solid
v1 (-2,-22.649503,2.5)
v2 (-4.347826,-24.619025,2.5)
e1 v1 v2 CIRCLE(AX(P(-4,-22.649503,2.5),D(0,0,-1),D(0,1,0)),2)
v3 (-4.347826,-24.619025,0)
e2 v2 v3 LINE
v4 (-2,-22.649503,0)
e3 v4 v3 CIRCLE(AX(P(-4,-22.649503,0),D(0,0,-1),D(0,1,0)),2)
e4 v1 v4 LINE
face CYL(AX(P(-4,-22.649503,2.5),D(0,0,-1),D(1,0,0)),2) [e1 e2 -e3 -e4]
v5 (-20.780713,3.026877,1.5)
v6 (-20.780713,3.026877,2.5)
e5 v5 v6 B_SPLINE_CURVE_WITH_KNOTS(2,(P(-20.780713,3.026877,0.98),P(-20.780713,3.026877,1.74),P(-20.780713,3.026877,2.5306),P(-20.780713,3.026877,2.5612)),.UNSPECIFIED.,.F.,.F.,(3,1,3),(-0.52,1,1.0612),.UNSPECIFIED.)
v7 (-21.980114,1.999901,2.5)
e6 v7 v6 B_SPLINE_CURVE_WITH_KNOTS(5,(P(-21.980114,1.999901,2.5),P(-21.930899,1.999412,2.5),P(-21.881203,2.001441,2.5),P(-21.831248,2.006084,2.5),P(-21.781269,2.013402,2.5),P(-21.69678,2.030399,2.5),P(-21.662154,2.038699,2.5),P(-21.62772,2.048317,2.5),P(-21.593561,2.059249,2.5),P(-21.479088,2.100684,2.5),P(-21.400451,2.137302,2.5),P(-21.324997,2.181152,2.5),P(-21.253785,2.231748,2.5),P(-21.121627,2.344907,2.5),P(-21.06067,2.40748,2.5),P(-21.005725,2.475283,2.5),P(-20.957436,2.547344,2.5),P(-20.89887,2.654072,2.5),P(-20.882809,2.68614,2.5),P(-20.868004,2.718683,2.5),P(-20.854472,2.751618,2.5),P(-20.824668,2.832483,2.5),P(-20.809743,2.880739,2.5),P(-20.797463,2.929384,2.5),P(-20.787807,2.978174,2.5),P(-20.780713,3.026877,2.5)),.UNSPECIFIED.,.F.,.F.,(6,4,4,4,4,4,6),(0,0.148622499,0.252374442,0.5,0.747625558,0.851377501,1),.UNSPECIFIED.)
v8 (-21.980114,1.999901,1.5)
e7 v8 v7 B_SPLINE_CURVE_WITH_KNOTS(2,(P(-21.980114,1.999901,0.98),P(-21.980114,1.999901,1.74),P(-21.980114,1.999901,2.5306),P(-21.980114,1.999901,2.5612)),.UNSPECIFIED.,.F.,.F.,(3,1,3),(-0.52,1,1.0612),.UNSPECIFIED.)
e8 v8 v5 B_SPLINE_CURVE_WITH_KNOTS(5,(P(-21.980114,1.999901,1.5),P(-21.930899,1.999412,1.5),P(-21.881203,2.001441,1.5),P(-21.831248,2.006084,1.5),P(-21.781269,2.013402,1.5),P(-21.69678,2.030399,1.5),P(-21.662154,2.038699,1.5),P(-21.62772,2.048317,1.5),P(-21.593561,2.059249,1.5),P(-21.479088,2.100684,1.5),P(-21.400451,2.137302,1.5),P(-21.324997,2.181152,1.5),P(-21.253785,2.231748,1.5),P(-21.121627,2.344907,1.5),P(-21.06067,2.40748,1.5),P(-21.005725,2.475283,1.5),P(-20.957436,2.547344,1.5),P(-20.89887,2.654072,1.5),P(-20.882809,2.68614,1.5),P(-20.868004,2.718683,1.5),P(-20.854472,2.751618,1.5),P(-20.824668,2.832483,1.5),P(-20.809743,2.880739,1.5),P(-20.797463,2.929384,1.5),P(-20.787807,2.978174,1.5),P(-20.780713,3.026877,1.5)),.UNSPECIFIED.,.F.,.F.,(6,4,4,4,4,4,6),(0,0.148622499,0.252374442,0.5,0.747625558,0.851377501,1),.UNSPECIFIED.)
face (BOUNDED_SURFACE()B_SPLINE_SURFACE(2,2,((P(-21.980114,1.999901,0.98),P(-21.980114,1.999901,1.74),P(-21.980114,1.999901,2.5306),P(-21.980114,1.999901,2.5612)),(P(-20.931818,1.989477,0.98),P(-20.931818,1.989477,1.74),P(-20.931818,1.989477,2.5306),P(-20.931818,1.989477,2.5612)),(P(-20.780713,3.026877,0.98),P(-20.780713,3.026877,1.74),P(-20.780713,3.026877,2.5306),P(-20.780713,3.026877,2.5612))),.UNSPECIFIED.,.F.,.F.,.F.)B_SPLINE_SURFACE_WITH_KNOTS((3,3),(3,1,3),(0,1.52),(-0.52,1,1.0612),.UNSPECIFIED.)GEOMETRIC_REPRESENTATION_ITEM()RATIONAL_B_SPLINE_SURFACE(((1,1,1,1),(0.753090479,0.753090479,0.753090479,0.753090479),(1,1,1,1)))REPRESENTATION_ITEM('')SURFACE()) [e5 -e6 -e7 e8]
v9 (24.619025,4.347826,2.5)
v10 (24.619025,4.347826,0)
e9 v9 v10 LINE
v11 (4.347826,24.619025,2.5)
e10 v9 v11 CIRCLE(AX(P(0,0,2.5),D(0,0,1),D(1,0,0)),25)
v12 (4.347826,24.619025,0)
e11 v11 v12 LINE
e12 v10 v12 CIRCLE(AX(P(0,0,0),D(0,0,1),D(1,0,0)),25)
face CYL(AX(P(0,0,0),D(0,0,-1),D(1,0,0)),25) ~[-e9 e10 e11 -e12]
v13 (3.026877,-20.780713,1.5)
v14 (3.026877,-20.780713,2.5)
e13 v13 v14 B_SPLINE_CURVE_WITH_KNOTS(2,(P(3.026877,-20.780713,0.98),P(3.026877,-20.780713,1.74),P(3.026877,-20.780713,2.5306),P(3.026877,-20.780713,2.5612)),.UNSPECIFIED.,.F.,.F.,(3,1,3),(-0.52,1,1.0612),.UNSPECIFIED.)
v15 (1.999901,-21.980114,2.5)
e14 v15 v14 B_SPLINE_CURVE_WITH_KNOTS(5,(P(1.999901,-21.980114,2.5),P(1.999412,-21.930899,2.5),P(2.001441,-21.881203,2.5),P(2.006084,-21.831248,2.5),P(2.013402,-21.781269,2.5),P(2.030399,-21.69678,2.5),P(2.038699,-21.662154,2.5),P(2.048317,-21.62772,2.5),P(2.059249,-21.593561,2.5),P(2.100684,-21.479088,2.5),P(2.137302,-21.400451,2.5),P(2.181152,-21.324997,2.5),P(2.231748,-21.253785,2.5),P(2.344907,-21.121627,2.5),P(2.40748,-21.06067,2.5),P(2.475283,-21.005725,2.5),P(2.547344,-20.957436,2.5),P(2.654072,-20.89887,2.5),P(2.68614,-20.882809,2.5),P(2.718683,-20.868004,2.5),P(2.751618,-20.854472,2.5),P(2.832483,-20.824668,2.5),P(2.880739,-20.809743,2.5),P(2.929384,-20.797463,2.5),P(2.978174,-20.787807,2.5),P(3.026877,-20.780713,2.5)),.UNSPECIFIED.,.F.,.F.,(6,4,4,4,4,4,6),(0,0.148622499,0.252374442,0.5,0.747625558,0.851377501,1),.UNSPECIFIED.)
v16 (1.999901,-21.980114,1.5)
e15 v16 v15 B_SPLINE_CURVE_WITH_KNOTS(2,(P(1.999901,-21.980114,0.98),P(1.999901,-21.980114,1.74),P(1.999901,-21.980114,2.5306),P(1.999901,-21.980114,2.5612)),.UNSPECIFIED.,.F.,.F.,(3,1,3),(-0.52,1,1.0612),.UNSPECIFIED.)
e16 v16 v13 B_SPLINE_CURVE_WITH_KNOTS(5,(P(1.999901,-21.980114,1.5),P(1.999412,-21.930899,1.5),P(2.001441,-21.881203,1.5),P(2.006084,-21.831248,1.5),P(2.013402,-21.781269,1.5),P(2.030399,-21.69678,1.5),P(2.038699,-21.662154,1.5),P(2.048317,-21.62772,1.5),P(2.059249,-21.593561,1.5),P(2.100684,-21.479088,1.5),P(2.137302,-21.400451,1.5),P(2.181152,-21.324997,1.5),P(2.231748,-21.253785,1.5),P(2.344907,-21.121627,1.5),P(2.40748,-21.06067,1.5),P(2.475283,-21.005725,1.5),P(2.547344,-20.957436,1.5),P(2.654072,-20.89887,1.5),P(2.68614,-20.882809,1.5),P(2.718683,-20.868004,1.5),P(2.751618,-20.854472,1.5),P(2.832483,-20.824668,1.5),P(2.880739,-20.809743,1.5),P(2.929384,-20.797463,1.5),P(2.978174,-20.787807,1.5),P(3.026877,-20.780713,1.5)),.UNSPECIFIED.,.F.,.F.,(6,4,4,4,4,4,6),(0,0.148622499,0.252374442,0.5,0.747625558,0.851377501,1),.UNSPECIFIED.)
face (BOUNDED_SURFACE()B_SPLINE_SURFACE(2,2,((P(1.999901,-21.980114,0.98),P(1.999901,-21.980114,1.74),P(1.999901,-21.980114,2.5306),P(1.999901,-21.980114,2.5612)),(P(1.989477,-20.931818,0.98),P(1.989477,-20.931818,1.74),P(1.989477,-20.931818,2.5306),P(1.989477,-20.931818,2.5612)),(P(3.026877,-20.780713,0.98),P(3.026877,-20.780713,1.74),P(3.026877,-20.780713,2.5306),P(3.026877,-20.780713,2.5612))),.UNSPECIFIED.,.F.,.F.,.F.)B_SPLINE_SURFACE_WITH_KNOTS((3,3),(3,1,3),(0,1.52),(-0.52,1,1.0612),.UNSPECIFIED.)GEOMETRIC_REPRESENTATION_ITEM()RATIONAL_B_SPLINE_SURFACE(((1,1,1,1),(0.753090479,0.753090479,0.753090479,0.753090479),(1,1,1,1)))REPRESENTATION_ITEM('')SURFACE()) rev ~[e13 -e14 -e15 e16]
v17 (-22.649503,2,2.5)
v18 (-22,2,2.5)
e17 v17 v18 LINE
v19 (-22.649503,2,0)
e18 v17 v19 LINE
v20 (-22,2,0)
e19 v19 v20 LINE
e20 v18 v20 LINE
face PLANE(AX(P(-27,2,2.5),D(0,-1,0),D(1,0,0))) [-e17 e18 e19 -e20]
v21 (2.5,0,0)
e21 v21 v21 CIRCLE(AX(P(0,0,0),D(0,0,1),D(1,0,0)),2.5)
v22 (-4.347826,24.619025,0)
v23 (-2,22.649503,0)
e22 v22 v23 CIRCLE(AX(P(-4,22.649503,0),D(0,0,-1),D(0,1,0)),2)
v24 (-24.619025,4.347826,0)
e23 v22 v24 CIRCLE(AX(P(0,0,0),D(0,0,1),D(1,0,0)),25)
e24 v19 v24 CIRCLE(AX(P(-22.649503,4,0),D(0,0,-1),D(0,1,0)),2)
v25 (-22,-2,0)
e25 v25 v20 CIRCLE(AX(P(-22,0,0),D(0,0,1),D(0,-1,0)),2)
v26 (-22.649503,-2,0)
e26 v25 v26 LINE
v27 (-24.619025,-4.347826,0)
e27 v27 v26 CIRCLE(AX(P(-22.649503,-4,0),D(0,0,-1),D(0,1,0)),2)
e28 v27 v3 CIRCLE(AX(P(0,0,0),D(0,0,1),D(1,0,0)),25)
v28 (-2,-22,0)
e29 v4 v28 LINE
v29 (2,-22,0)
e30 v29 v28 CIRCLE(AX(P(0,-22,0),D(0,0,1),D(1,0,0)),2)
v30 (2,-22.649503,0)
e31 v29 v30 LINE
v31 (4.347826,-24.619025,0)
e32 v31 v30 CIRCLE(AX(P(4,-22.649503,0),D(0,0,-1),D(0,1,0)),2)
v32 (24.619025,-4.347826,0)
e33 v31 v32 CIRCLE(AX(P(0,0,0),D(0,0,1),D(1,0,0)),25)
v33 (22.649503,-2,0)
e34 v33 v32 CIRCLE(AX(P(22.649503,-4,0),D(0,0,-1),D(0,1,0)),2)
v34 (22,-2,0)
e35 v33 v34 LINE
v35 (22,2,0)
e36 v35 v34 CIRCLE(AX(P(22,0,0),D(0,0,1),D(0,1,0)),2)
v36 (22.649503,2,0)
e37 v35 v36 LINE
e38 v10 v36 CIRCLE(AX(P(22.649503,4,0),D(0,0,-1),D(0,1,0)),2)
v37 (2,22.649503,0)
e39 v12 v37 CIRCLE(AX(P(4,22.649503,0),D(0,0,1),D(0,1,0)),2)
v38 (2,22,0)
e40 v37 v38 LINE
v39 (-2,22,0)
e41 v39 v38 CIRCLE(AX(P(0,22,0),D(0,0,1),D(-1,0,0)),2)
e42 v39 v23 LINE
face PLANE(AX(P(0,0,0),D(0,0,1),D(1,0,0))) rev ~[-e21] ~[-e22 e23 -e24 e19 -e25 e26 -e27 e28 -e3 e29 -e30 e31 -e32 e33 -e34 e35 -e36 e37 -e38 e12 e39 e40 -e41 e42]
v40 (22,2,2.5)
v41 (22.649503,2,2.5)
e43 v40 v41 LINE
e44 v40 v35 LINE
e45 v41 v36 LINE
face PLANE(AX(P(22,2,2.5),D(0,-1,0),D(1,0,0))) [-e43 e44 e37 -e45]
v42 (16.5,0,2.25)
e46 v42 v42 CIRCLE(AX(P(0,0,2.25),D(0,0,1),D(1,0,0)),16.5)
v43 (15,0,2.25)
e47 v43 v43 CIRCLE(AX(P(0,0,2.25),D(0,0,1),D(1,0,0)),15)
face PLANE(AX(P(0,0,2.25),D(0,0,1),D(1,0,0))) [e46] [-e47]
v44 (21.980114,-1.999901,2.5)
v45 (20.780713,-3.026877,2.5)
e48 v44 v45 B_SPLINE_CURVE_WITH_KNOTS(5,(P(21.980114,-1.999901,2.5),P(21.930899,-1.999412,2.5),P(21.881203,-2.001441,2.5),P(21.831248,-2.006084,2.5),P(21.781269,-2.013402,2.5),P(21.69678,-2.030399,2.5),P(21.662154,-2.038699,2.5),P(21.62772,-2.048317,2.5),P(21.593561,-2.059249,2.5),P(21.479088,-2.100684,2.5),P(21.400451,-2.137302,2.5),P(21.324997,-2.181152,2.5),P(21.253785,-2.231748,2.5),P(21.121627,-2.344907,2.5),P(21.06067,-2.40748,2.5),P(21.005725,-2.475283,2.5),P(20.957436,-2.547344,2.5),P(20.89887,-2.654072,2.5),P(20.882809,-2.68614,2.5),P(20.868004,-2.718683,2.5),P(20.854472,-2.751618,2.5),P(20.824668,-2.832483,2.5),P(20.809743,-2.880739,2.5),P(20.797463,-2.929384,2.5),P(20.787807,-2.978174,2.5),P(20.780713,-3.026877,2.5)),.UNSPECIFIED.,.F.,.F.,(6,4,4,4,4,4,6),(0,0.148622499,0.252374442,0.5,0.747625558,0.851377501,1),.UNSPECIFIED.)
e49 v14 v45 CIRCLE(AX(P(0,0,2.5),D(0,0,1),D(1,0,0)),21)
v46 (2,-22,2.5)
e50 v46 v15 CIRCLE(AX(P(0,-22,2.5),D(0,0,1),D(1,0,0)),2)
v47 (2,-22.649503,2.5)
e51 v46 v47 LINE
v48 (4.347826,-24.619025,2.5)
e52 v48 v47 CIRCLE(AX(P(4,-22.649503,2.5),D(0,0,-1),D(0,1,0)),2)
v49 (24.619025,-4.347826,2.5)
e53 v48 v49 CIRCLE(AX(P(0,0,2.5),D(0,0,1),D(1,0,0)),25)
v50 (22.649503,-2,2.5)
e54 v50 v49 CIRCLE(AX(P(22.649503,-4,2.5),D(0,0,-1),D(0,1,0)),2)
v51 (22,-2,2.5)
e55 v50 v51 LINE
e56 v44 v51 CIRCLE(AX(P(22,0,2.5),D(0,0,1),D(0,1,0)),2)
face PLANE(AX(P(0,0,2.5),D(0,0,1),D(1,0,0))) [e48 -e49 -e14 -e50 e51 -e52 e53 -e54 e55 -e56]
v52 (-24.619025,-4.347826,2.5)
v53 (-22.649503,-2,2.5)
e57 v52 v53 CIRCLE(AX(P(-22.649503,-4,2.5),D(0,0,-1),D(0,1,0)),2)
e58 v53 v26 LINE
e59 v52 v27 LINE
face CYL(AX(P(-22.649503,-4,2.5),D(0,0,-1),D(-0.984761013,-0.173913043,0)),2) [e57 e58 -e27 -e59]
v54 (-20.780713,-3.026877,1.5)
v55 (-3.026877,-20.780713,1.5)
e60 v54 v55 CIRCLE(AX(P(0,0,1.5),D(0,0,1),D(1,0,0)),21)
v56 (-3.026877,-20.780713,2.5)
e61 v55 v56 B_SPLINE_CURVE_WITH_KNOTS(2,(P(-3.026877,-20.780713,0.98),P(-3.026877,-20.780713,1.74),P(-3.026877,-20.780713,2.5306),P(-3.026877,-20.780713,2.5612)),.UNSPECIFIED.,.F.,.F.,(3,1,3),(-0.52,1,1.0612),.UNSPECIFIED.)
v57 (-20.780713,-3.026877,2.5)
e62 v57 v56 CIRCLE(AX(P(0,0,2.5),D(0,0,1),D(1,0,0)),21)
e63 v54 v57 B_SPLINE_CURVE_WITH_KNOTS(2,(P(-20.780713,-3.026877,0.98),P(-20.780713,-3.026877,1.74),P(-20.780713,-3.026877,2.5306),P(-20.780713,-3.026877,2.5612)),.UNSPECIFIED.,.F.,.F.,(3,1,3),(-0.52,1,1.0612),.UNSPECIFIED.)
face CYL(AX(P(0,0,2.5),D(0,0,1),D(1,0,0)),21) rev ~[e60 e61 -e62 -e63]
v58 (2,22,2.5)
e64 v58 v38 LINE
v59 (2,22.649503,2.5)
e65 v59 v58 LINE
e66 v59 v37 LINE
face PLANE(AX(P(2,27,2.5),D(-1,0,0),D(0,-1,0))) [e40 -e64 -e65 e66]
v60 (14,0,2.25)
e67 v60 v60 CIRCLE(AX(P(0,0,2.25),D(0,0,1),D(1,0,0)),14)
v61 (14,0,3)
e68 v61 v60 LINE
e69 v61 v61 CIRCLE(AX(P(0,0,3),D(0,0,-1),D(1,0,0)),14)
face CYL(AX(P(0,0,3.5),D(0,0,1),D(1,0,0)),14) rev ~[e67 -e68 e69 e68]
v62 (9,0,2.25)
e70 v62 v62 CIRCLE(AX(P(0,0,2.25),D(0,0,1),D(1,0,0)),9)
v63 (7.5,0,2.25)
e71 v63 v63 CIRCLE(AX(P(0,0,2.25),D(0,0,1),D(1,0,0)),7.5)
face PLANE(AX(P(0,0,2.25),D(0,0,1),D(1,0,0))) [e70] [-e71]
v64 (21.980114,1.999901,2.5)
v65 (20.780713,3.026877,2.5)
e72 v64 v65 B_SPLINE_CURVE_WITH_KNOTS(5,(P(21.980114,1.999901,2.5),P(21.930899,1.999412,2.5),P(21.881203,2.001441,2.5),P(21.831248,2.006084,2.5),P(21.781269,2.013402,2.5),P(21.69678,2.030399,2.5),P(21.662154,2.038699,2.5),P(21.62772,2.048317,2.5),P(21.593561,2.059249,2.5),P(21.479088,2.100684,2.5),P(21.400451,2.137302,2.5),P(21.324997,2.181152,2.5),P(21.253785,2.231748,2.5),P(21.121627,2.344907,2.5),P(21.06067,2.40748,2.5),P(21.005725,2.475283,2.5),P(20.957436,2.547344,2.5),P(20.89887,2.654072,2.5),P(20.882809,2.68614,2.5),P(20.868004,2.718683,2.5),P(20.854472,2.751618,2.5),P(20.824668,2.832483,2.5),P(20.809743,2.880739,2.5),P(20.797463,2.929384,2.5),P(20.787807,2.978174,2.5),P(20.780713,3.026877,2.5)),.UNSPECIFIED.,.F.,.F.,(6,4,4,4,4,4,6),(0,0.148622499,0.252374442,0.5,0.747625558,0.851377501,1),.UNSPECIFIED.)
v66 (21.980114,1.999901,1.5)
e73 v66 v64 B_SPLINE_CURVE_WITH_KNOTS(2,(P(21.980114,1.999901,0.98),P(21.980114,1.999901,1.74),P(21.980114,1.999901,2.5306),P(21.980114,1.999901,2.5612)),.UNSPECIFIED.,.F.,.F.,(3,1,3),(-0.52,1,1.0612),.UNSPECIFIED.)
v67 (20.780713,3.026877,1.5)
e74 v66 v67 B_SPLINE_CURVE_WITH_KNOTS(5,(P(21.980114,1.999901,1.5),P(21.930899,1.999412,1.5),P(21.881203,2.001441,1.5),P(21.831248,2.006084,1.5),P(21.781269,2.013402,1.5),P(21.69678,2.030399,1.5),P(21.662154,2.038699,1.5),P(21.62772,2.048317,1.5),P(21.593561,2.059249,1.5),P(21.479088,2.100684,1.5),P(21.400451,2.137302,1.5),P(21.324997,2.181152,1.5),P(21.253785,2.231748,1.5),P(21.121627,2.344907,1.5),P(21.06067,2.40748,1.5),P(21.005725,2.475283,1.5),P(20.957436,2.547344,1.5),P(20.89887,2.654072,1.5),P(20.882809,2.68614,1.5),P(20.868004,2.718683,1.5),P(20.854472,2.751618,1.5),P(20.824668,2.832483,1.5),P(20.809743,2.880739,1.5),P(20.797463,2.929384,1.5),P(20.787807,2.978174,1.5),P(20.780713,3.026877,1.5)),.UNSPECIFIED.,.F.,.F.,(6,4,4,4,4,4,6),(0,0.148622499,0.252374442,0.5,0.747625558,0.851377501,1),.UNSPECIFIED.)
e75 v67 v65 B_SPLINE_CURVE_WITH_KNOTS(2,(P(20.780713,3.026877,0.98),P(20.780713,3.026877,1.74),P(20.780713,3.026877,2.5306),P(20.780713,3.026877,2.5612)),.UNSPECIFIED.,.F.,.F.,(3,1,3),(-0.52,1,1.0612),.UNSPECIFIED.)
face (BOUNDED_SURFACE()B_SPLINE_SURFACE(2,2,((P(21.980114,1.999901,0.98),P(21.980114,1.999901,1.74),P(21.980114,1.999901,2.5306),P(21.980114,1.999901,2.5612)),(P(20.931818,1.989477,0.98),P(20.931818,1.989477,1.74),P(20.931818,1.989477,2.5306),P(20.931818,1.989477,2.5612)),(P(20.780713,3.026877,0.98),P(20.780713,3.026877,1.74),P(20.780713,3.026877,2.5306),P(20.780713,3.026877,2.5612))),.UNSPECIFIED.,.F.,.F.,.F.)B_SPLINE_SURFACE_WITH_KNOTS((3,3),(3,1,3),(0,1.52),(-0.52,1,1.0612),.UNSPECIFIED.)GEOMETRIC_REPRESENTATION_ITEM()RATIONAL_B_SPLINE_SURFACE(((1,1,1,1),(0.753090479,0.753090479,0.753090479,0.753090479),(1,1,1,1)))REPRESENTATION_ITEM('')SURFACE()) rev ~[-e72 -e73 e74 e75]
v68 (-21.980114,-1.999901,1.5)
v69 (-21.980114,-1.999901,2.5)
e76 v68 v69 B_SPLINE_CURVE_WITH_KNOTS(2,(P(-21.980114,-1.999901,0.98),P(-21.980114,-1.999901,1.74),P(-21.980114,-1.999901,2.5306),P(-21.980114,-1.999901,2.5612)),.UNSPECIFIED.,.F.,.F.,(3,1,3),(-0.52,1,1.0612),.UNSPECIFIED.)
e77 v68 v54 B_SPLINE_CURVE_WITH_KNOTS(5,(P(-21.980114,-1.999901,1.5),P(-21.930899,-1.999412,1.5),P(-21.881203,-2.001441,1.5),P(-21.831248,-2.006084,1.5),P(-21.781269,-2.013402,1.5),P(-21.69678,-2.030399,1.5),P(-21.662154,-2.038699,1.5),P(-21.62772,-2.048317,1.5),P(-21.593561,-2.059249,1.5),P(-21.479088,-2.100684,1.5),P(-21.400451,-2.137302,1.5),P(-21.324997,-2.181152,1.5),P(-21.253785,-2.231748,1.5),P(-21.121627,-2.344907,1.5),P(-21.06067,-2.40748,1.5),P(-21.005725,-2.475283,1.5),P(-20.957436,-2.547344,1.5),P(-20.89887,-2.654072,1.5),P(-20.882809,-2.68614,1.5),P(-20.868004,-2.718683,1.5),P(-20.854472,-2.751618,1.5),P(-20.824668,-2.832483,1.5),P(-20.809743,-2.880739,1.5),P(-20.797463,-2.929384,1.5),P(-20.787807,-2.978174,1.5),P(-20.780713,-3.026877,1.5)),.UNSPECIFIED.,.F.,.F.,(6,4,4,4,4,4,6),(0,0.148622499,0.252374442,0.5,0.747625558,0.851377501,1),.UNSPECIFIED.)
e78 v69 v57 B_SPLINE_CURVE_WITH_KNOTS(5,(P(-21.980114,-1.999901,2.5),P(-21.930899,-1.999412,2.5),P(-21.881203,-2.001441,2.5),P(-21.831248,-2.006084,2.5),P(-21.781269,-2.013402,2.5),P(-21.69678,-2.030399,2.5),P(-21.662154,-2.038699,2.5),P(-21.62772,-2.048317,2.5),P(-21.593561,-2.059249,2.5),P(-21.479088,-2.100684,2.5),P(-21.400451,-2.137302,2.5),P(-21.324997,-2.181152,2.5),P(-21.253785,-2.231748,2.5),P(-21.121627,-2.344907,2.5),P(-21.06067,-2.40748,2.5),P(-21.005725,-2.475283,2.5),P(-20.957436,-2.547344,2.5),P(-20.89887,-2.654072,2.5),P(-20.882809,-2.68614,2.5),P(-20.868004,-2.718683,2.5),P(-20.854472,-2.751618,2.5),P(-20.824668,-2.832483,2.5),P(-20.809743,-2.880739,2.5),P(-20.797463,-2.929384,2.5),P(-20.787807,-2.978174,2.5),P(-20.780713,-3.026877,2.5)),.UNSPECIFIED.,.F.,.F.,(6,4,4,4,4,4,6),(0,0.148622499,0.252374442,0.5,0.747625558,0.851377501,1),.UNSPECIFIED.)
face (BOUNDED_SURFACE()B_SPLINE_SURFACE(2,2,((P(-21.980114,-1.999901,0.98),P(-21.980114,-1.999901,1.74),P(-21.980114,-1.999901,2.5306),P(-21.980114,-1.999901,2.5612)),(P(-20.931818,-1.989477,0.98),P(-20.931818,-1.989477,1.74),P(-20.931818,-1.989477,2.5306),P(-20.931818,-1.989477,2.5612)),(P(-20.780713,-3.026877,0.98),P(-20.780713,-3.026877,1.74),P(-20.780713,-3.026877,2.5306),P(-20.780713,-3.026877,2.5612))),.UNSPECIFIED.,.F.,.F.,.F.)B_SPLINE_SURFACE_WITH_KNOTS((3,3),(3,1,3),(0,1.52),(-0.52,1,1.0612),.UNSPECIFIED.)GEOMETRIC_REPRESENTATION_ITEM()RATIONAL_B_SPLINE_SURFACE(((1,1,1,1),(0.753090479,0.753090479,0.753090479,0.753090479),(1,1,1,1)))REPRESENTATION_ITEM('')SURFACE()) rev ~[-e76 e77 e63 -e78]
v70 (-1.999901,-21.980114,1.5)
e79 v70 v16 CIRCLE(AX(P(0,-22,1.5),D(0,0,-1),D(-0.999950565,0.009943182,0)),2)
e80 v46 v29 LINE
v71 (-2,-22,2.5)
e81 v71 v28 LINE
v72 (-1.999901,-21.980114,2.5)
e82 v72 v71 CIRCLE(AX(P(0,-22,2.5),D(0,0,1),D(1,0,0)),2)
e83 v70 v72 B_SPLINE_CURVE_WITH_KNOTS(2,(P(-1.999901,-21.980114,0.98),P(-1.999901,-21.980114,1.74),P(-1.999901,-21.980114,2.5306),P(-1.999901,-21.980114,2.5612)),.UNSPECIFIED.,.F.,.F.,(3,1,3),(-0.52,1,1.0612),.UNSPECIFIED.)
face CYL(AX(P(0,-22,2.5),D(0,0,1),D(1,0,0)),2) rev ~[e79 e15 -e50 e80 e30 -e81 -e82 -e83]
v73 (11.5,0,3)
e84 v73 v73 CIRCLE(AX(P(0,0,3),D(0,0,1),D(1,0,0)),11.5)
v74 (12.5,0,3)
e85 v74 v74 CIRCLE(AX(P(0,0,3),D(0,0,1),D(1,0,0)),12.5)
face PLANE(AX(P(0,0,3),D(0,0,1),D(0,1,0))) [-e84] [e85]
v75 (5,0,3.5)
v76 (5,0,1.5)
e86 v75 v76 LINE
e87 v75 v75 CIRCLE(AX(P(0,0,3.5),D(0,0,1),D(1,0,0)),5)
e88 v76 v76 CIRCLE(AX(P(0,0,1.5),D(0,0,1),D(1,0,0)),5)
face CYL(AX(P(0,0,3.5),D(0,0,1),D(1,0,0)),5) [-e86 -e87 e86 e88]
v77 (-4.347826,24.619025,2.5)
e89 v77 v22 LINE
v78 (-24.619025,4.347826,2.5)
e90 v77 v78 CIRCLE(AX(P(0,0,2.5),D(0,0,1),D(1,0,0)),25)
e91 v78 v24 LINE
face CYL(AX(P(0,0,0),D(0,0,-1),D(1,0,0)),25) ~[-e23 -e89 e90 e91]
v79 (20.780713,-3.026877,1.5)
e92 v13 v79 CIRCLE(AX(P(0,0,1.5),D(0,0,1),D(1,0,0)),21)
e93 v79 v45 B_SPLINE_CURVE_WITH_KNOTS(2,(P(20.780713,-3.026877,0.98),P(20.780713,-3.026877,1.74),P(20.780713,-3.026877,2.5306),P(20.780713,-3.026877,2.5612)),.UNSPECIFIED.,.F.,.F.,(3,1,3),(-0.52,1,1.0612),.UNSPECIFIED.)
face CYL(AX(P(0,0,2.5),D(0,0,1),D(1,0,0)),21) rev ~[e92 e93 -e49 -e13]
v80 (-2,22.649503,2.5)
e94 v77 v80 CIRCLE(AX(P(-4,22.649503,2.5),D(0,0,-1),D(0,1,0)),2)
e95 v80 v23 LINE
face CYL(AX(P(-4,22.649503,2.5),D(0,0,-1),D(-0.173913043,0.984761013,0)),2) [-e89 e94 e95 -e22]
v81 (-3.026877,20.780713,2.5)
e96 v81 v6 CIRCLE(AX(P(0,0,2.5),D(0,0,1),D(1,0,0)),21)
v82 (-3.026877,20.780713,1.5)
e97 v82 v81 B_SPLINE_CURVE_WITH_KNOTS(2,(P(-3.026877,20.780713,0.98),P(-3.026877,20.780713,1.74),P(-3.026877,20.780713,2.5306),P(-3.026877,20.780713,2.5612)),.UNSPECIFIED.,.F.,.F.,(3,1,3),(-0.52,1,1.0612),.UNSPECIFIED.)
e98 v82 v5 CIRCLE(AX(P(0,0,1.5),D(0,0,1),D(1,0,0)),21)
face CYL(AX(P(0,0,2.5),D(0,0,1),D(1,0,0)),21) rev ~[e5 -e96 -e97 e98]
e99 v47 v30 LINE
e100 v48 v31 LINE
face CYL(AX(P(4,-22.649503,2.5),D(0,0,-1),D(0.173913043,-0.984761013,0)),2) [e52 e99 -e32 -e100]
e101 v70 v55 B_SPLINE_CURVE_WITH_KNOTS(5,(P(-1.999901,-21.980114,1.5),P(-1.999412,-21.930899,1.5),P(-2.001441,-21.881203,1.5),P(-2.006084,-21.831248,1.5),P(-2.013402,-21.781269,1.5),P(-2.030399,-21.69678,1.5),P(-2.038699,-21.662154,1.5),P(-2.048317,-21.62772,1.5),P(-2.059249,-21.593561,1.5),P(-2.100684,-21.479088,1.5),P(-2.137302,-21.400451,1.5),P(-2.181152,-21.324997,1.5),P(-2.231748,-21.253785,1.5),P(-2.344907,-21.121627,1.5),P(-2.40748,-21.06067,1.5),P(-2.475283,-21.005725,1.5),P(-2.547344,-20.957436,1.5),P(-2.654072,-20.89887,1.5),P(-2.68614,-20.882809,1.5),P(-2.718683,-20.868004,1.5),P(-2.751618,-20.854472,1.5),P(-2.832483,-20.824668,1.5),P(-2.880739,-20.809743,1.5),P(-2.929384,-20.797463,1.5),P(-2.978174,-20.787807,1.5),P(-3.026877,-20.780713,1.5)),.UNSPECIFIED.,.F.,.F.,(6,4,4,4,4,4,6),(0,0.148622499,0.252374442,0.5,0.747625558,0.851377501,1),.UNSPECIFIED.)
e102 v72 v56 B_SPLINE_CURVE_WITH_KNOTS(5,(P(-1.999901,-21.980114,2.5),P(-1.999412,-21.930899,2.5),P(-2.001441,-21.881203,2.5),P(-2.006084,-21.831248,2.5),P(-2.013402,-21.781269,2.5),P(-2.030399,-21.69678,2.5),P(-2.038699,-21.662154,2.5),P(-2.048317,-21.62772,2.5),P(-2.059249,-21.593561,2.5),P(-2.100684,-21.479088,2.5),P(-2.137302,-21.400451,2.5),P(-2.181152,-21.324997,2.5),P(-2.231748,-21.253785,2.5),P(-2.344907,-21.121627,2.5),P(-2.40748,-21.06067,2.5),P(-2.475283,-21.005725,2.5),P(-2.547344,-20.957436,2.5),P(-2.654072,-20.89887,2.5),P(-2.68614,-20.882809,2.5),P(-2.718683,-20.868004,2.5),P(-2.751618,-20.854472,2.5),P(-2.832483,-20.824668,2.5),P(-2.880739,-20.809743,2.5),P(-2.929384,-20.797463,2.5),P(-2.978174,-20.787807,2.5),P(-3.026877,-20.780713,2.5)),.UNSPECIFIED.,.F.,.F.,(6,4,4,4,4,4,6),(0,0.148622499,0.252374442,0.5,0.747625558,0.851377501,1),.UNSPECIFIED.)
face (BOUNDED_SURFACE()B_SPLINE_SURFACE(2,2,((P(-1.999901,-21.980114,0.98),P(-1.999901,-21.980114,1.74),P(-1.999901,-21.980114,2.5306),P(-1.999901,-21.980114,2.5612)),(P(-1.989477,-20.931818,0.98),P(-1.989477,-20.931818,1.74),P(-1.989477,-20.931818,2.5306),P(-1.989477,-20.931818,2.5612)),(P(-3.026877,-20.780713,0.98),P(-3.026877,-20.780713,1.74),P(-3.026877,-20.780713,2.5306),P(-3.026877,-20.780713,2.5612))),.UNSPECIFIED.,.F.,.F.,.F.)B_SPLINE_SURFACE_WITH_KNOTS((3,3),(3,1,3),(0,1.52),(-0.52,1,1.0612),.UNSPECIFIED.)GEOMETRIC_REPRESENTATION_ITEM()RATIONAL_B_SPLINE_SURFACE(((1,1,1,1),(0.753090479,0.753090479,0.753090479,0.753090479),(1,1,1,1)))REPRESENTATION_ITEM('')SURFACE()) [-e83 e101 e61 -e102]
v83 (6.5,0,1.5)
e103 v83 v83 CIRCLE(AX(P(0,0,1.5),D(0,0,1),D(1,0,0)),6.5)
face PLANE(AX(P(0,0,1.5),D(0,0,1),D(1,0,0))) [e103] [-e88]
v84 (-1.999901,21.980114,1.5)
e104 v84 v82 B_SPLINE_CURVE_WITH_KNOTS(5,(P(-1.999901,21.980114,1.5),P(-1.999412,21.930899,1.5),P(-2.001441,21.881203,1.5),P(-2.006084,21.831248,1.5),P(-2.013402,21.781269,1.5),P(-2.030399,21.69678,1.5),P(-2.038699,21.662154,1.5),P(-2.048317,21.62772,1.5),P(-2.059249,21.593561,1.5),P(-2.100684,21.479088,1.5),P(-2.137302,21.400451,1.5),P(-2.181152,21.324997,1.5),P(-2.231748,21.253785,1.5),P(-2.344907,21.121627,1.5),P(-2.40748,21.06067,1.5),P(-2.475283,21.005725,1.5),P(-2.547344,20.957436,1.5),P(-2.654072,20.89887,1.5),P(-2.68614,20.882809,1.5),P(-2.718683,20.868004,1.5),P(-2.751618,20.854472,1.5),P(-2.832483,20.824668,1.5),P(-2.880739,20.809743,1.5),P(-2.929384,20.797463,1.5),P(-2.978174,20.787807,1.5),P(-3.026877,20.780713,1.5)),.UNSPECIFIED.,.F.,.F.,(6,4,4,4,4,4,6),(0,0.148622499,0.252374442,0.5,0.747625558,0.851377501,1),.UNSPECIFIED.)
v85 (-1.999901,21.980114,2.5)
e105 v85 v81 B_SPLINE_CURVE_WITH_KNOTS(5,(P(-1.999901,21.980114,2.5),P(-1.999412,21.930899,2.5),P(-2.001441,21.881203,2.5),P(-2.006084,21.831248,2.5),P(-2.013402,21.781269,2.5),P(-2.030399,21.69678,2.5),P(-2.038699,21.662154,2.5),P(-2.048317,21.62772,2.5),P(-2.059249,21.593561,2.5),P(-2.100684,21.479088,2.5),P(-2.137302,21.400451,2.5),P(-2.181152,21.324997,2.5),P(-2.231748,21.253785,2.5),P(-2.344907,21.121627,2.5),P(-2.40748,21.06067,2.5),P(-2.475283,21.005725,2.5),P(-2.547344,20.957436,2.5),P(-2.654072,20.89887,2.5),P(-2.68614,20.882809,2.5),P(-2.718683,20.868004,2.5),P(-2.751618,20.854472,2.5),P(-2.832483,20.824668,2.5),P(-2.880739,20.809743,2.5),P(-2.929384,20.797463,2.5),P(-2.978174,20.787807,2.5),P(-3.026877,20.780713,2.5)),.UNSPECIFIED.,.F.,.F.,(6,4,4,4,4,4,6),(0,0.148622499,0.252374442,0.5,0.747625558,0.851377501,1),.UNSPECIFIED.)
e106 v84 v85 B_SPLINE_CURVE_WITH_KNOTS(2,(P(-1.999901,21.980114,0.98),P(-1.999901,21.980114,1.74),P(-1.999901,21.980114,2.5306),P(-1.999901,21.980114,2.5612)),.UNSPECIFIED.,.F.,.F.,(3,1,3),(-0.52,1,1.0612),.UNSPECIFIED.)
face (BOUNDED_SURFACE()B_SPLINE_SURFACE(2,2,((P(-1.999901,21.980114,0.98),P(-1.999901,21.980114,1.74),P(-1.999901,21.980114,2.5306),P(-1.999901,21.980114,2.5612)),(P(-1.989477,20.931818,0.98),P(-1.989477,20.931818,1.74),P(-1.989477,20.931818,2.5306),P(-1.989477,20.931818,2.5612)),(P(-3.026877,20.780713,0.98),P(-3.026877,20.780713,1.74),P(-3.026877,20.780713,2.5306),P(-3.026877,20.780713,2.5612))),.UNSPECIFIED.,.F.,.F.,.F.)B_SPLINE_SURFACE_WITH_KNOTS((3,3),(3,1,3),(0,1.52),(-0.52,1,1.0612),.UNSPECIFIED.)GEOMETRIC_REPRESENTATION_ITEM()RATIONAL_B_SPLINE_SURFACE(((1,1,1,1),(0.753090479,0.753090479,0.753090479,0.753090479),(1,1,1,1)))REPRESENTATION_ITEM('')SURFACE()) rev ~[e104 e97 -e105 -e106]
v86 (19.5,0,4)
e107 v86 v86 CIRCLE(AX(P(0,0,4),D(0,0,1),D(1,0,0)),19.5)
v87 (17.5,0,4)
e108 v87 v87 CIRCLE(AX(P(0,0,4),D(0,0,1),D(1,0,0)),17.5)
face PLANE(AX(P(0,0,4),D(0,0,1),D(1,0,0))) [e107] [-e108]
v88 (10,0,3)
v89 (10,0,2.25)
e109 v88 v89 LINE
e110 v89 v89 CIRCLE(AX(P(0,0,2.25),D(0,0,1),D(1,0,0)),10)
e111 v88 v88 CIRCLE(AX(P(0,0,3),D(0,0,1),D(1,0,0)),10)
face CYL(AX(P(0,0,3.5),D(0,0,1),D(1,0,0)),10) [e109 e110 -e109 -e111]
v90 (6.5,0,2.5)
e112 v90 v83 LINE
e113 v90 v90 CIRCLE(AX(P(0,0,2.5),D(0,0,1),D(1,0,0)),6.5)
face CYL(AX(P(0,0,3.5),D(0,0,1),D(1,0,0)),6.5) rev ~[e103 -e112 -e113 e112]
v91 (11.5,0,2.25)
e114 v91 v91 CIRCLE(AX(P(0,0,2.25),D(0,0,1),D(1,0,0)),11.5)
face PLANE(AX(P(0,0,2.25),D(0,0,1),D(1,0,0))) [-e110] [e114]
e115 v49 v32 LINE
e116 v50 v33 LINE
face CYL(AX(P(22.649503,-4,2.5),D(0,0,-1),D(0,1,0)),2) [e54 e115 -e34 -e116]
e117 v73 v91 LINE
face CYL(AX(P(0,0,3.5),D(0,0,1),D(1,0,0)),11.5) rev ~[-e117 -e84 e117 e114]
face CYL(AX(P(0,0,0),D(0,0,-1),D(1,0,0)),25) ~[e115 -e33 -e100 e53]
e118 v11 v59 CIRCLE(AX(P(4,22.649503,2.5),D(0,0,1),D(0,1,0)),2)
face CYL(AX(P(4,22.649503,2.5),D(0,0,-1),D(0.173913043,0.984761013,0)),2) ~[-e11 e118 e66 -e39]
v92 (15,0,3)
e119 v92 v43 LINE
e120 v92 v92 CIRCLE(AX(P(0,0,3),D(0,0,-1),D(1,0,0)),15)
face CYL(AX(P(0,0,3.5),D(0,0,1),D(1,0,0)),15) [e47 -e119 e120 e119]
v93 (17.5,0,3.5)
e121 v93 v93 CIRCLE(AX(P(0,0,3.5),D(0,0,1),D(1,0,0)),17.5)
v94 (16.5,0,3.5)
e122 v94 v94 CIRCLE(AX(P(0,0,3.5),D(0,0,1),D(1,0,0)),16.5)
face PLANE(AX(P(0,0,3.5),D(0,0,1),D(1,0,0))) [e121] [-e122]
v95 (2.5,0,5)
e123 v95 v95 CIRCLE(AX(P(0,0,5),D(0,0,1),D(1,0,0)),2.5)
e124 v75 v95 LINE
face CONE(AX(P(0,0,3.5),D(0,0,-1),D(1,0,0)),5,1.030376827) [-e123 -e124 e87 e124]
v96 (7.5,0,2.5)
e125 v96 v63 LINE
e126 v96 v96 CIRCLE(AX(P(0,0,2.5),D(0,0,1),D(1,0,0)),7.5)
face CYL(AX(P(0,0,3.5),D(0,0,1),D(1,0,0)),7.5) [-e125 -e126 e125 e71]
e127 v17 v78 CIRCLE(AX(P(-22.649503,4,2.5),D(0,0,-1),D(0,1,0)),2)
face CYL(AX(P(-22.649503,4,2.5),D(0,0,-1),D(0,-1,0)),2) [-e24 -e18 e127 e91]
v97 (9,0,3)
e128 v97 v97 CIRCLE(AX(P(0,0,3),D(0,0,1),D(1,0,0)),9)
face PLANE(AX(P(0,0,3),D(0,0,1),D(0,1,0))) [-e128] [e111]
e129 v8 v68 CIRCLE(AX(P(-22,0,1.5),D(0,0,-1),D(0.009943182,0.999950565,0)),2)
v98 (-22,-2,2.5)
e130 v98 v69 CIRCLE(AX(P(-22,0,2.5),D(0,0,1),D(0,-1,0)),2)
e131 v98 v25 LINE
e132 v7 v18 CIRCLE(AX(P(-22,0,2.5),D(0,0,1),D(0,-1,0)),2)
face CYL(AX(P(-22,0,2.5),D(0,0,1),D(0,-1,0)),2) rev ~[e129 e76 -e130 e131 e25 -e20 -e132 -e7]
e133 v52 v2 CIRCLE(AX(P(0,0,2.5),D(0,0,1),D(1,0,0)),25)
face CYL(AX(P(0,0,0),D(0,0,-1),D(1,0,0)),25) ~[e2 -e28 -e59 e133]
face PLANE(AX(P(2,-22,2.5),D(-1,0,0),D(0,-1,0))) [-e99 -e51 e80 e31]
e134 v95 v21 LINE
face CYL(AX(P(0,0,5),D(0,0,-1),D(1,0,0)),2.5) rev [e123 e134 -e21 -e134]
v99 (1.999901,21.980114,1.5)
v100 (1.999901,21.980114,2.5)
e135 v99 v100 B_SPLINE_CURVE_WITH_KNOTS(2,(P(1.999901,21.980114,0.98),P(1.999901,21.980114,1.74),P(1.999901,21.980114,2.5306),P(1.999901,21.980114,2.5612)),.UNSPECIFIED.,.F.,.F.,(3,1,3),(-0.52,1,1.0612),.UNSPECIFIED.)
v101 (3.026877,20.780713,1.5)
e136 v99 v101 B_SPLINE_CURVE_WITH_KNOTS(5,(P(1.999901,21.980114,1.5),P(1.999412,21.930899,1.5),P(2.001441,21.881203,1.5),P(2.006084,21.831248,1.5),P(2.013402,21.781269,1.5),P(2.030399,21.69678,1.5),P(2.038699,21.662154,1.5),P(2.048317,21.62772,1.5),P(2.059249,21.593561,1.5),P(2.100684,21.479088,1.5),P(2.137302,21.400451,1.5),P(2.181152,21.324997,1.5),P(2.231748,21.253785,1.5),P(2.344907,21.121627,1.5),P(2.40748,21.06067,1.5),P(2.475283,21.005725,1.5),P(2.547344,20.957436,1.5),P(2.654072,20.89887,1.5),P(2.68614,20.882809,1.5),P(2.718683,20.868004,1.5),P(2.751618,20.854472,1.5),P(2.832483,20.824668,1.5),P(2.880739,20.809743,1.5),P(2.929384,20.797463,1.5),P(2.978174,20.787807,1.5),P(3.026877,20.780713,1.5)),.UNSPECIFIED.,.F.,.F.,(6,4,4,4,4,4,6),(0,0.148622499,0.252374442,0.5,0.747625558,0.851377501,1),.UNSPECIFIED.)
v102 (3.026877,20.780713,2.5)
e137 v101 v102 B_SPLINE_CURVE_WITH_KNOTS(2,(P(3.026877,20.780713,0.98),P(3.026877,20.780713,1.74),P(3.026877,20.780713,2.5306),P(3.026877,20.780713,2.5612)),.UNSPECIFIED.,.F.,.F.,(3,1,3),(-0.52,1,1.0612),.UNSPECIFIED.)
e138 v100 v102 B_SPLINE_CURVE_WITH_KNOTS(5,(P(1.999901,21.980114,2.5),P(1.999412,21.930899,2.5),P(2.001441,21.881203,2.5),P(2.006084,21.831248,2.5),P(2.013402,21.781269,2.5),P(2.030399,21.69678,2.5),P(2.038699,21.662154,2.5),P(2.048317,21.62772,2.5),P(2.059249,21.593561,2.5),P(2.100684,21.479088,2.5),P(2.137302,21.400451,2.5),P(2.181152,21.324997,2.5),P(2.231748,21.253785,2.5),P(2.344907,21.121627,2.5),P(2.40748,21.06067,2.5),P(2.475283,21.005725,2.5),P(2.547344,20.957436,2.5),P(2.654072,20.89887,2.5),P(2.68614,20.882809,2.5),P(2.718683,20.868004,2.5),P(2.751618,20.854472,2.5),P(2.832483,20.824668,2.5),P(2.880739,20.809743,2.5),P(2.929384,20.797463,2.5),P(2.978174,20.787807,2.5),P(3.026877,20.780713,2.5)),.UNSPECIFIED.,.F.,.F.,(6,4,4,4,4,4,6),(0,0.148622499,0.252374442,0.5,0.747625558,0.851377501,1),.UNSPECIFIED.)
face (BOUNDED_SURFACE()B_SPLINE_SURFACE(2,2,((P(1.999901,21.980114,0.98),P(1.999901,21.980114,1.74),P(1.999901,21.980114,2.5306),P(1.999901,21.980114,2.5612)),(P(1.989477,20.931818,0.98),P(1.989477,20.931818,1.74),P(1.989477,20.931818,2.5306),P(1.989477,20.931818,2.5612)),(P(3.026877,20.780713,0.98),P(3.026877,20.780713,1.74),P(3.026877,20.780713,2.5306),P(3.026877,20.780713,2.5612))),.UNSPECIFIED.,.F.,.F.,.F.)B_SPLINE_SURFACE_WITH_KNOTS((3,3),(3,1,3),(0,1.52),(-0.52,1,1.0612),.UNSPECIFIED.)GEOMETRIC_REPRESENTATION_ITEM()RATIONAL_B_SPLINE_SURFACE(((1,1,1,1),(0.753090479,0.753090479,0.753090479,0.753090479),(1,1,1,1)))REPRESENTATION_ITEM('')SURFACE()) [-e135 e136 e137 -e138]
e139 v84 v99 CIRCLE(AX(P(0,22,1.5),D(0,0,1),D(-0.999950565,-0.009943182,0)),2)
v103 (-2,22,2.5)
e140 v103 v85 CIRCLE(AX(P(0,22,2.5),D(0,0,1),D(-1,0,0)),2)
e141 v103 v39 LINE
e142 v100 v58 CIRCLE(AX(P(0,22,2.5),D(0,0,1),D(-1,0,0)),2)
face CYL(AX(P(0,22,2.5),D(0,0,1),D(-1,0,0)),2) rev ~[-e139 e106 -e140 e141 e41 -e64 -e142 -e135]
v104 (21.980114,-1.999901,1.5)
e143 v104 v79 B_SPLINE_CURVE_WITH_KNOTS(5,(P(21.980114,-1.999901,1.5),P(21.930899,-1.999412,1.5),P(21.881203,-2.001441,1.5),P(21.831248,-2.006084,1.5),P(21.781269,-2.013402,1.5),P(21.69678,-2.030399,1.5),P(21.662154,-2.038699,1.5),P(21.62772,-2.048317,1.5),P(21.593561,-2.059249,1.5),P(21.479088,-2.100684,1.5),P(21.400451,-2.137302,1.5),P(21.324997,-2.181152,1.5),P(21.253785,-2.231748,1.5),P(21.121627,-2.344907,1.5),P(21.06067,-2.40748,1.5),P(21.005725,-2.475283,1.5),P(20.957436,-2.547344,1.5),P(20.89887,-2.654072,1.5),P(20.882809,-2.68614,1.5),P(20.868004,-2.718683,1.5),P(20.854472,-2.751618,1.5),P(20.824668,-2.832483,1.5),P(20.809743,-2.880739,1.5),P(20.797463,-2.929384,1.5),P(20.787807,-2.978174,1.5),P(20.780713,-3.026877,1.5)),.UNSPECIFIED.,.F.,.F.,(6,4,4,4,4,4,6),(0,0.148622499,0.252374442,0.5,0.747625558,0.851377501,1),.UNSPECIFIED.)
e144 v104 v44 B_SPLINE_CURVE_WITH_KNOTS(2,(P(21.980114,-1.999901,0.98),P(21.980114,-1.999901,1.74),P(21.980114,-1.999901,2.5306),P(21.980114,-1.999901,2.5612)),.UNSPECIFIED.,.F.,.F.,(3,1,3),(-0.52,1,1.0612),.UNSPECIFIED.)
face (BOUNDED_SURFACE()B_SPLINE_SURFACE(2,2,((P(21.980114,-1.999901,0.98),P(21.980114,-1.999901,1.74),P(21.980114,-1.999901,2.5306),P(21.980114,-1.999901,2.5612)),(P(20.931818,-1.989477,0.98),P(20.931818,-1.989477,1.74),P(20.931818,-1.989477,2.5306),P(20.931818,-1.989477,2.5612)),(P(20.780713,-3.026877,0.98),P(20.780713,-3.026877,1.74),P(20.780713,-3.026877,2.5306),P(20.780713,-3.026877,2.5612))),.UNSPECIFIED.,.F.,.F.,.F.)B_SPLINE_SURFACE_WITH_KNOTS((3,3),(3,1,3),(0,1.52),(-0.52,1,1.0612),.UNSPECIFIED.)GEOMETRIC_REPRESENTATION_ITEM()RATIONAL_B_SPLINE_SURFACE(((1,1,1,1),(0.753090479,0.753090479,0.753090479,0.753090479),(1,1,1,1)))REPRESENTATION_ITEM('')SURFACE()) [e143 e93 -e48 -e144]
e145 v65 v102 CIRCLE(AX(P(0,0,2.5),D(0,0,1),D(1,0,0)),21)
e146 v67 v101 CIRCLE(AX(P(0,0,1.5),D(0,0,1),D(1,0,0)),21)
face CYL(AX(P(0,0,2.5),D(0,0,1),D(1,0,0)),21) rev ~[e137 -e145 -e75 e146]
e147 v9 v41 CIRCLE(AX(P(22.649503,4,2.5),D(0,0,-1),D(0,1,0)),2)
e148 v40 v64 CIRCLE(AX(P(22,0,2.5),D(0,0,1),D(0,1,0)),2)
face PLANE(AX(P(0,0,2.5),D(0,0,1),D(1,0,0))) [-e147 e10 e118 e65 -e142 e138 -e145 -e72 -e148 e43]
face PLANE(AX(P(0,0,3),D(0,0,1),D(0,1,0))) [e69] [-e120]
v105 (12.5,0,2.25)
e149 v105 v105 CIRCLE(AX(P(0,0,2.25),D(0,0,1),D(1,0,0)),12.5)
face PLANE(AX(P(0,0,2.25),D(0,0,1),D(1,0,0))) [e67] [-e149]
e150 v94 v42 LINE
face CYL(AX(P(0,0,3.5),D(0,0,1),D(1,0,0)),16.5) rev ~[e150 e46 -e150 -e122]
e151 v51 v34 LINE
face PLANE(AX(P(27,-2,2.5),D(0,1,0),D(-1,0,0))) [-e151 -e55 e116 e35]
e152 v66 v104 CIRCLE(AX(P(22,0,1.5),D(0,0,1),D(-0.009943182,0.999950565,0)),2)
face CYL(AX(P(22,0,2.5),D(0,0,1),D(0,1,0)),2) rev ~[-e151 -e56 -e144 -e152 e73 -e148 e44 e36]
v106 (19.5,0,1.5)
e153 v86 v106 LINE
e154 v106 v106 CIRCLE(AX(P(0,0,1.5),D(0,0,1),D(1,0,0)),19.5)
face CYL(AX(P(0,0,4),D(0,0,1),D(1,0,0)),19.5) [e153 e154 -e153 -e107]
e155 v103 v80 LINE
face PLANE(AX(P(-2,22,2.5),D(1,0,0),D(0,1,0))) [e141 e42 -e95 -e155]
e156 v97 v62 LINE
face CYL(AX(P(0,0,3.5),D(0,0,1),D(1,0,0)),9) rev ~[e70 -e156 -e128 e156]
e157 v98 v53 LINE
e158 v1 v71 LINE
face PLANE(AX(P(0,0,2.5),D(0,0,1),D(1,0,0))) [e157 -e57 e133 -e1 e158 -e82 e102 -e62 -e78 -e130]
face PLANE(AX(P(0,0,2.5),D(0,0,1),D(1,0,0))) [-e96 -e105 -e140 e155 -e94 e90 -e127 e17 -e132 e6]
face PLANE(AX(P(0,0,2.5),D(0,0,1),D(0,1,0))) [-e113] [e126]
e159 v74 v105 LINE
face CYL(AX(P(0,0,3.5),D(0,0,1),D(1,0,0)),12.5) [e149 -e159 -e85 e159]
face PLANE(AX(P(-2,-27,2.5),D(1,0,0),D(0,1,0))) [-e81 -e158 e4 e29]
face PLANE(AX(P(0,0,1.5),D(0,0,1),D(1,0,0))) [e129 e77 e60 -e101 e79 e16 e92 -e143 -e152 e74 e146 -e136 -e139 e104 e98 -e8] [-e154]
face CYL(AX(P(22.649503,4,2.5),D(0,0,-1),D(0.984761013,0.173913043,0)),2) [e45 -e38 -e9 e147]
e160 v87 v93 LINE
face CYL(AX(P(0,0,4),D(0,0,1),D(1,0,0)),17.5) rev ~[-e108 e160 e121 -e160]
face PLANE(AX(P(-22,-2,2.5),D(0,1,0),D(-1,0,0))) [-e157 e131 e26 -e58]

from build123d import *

# Parameters (mm, degrees)
SKETCH_R              = 25
SKETCH_R_2            = 2.5
PAD_DEPTH             = 4
SKETCH001_R           = 25
SKETCH001_R_2         = 19.5
POCKET_DEPTH          = 1.5
SKETCH002_R           = 21
SKETCH002_R_2         = 19.5
POCKET001_DEPTH       = 1
POCKET002_DEPTH       = 5
POLARPATTERN_COUNT    = 4
FILLET_R              = 2
FILLET001_R           = 1.2
SKETCH004_R           = 17.5
POCKET003_DEPTH       = 0.5
SKETCH005_R           = 16.5
SKETCH005_R_2         = 15
POCKET004_DEPTH       = 1.25
SKETCH006_R           = 14
SKETCH006_R_2         = 12.5
POCKET005_DEPTH       = 1.25
SKETCH007_R           = 11.5
SKETCH007_R_2         = 10
POCKET006_DEPTH       = 1.25
SKETCH008_R           = 9
SKETCH008_R_2         = 7.5
POCKET007_DEPTH       = 1.25
SKETCH009_R           = 6.5
SKETCH009_R_2         = 5
POCKET008_DEPTH       = 2
REVOLUTION_FACE59_R   = 15
REVOLUTION_FACE59_R_2 = 14
POCKET009_DEPTH       = 0.5
POCKET009_FACE67_R    = 12.5
POCKET009_FACE67_R_2  = 11.5
POCKET010_DEPTH       = 0.5
POCKET010_FACE64_R    = 10
POCKET010_FACE64_R_2  = 9
POCKET011_DEPTH       = 0.5
POCKET011_FACE56_R    = 7.5
POCKET011_FACE56_R_2  = 6.5
POCKET012_DEPTH       = 0.5
POCKET012_FACE56_R    = 7.5
POCKET012_FACE56_R_2  = 6.5
POCKET013_DEPTH       = 0.5


with BuildPart() as part:
    # Sketch → Pad (new body)
    with BuildSketch(Plane.XY):
        Circle(SKETCH_R)
        Circle(SKETCH_R_2, mode=Mode.SUBTRACT)
    extrude(amount=PAD_DEPTH)

    # Sketch001 (on Face4 of Pad) → Pocket (cut)
    with BuildSketch(Plane.XY.offset(4)):
        Circle(SKETCH001_R)
        Circle(SKETCH001_R_2, mode=Mode.SUBTRACT)
    extrude(amount=-POCKET_DEPTH, mode=Mode.SUBTRACT)

    # Sketch002 (on Face3 of Pocket) → Pocket001 (cut)
    with BuildSketch(Plane.XY.offset(2.5)):
        Circle(SKETCH002_R)
        Circle(SKETCH002_R_2, mode=Mode.SUBTRACT)
    extrude(amount=-POCKET001_DEPTH, mode=Mode.SUBTRACT)

    # Sketch003 (on Face3 of Pocket001) → Pocket002 (cut)
    with BuildSketch(Plane.XY.offset(2.5)):
        with BuildLine():
            Line((22, 2), (27, 2))
            Line((27, 2), (27, -2))
            Line((27, -2), (22, -2))
            ThreePointArc((22, 2), (20, 0), (22, -2))
        make_face()
    pocket002 = extrude(amount=-POCKET002_DEPTH, mode=Mode.SUBTRACT)

    # PolarPattern: Pocket002 ×4 about axis
    polarpattern_axis = Axis((0, 0, 0), (0, 0, 1))
    for i in range(1, POLARPATTERN_COUNT):
        add(pocket002.rotate(polarpattern_axis, i * 360 / POLARPATTERN_COUNT), mode=Mode.SUBTRACT)

    # Fillet
    fillet_edges = [part.edges().sort_by_distance(p)[0] for p in [
        (-2, -24.919872, 1.25),
        (2, -24.919872, 1.25),
        (24.919872, 2, 1.25),
        (24.919872, -2, 1.25),
        (-2, 24.919872, 1.25),
        (2, 24.919872, 1.25),
        (-24.919872, 2, 1.25),
        (-24.919872, -2, 1.25),
    ]]
    fillet(fillet_edges, radius=FILLET_R)

    # Fillet001
    fillet001_edges = [part.edges().sort_by_distance(p)[0] for p in [
        (1.690854, -20.931818, 2),
        (-1.690854, -20.931818, 2),
        (-20.931818, 1.690854, 2),
        (-20.931818, -1.690854, 2),
        (-1.690854, 20.931818, 2),
        (1.690854, 20.931818, 2),
        (20.931818, 1.690854, 2),
        (20.931818, -1.690854, 2),
    ]]
    fillet(fillet001_edges, radius=FILLET001_R)

    # Sketch004 (on Face46 of Fillet001) → Pocket003 (cut)
    with BuildSketch(Plane.XY.offset(4)):
        Circle(SKETCH004_R)
    extrude(amount=-POCKET003_DEPTH, mode=Mode.SUBTRACT)

    # Sketch005 (on Face46 of Pocket003) → Pocket004 (cut)
    with BuildSketch(Plane.XY.offset(3.5)):
        Circle(SKETCH005_R)
        Circle(SKETCH005_R_2, mode=Mode.SUBTRACT)
    extrude(amount=-POCKET004_DEPTH, mode=Mode.SUBTRACT)

    # Sketch006 (on Face46 of Pocket004) → Pocket005 (cut)
    with BuildSketch(Plane.XY.offset(3.5)):
        Circle(SKETCH006_R)
        Circle(SKETCH006_R_2, mode=Mode.SUBTRACT)
    extrude(amount=-POCKET005_DEPTH, mode=Mode.SUBTRACT)

    # Sketch007 (on Face46 of Pocket005) → Pocket006 (cut)
    with BuildSketch(Plane.XY.offset(3.5)):
        Circle(SKETCH007_R)
        Circle(SKETCH007_R_2, mode=Mode.SUBTRACT)
    extrude(amount=-POCKET006_DEPTH, mode=Mode.SUBTRACT)

    # Sketch008 (on Face46 of Pocket006) → Pocket007 (cut)
    with BuildSketch(Plane.XY.offset(3.5)):
        Circle(SKETCH008_R)
        Circle(SKETCH008_R_2, mode=Mode.SUBTRACT)
    extrude(amount=-POCKET007_DEPTH, mode=Mode.SUBTRACT)

    # Sketch009 (on Face46 of Pocket007) → Pocket008 (cut)
    with BuildSketch(Plane.XY.offset(3.5)):
        Circle(SKETCH009_R)
        Circle(SKETCH009_R_2, mode=Mode.SUBTRACT)
    extrude(amount=-POCKET008_DEPTH, mode=Mode.SUBTRACT)

    # Sketch010 → Revolution (revolve)
    with BuildSketch(Plane.XZ):
        Polygon((2.5, 3.5), (5, 3.5), (2.5, 5), align=None)
    revolve(axis=Axis((0, 0, 0), (0, 0, 1)))

    # Revolution Face59 → Pocket009 (cut)
    with BuildSketch(Plane(origin=(0, 0, 3.5), x_dir=(0, 1, 0), z_dir=(0, 0, 1))):
        Circle(REVOLUTION_FACE59_R)
        Circle(REVOLUTION_FACE59_R_2, mode=Mode.SUBTRACT)
    extrude(amount=-POCKET009_DEPTH, mode=Mode.SUBTRACT)

    # Pocket009 Face67 → Pocket010 (cut)
    with BuildSketch(Plane(origin=(0, 0, 3.5), x_dir=(0, 1, 0), z_dir=(0, 0, 1))):
        Circle(POCKET009_FACE67_R)
        Circle(POCKET009_FACE67_R_2, mode=Mode.SUBTRACT)
    extrude(amount=-POCKET010_DEPTH, mode=Mode.SUBTRACT)

    # Pocket010 Face64 → Pocket011 (cut)
    with BuildSketch(Plane(origin=(0, 0, 3.5), x_dir=(0, 1, 0), z_dir=(0, 0, 1))):
        Circle(POCKET010_FACE64_R)
        Circle(POCKET010_FACE64_R_2, mode=Mode.SUBTRACT)
    extrude(amount=-POCKET011_DEPTH, mode=Mode.SUBTRACT)

    # Pocket011 Face56 → Pocket012 (cut)
    with BuildSketch(Plane(origin=(0, 0, 3.5), x_dir=(0, 1, 0), z_dir=(0, 0, 1))):
        Circle(POCKET011_FACE56_R)
        Circle(POCKET011_FACE56_R_2, mode=Mode.SUBTRACT)
    extrude(amount=-POCKET012_DEPTH, mode=Mode.SUBTRACT)

    # Pocket012 Face56 → Pocket013 (cut)
    with BuildSketch(Plane(origin=(0, 0, 3), x_dir=(0, 1, 0), z_dir=(0, 0, 1))):
        Circle(POCKET012_FACE56_R)
        Circle(POCKET012_FACE56_R_2, mode=Mode.SUBTRACT)
    extrude(amount=-POCKET013_DEPTH, mode=Mode.SUBTRACT)


solid = part.part
